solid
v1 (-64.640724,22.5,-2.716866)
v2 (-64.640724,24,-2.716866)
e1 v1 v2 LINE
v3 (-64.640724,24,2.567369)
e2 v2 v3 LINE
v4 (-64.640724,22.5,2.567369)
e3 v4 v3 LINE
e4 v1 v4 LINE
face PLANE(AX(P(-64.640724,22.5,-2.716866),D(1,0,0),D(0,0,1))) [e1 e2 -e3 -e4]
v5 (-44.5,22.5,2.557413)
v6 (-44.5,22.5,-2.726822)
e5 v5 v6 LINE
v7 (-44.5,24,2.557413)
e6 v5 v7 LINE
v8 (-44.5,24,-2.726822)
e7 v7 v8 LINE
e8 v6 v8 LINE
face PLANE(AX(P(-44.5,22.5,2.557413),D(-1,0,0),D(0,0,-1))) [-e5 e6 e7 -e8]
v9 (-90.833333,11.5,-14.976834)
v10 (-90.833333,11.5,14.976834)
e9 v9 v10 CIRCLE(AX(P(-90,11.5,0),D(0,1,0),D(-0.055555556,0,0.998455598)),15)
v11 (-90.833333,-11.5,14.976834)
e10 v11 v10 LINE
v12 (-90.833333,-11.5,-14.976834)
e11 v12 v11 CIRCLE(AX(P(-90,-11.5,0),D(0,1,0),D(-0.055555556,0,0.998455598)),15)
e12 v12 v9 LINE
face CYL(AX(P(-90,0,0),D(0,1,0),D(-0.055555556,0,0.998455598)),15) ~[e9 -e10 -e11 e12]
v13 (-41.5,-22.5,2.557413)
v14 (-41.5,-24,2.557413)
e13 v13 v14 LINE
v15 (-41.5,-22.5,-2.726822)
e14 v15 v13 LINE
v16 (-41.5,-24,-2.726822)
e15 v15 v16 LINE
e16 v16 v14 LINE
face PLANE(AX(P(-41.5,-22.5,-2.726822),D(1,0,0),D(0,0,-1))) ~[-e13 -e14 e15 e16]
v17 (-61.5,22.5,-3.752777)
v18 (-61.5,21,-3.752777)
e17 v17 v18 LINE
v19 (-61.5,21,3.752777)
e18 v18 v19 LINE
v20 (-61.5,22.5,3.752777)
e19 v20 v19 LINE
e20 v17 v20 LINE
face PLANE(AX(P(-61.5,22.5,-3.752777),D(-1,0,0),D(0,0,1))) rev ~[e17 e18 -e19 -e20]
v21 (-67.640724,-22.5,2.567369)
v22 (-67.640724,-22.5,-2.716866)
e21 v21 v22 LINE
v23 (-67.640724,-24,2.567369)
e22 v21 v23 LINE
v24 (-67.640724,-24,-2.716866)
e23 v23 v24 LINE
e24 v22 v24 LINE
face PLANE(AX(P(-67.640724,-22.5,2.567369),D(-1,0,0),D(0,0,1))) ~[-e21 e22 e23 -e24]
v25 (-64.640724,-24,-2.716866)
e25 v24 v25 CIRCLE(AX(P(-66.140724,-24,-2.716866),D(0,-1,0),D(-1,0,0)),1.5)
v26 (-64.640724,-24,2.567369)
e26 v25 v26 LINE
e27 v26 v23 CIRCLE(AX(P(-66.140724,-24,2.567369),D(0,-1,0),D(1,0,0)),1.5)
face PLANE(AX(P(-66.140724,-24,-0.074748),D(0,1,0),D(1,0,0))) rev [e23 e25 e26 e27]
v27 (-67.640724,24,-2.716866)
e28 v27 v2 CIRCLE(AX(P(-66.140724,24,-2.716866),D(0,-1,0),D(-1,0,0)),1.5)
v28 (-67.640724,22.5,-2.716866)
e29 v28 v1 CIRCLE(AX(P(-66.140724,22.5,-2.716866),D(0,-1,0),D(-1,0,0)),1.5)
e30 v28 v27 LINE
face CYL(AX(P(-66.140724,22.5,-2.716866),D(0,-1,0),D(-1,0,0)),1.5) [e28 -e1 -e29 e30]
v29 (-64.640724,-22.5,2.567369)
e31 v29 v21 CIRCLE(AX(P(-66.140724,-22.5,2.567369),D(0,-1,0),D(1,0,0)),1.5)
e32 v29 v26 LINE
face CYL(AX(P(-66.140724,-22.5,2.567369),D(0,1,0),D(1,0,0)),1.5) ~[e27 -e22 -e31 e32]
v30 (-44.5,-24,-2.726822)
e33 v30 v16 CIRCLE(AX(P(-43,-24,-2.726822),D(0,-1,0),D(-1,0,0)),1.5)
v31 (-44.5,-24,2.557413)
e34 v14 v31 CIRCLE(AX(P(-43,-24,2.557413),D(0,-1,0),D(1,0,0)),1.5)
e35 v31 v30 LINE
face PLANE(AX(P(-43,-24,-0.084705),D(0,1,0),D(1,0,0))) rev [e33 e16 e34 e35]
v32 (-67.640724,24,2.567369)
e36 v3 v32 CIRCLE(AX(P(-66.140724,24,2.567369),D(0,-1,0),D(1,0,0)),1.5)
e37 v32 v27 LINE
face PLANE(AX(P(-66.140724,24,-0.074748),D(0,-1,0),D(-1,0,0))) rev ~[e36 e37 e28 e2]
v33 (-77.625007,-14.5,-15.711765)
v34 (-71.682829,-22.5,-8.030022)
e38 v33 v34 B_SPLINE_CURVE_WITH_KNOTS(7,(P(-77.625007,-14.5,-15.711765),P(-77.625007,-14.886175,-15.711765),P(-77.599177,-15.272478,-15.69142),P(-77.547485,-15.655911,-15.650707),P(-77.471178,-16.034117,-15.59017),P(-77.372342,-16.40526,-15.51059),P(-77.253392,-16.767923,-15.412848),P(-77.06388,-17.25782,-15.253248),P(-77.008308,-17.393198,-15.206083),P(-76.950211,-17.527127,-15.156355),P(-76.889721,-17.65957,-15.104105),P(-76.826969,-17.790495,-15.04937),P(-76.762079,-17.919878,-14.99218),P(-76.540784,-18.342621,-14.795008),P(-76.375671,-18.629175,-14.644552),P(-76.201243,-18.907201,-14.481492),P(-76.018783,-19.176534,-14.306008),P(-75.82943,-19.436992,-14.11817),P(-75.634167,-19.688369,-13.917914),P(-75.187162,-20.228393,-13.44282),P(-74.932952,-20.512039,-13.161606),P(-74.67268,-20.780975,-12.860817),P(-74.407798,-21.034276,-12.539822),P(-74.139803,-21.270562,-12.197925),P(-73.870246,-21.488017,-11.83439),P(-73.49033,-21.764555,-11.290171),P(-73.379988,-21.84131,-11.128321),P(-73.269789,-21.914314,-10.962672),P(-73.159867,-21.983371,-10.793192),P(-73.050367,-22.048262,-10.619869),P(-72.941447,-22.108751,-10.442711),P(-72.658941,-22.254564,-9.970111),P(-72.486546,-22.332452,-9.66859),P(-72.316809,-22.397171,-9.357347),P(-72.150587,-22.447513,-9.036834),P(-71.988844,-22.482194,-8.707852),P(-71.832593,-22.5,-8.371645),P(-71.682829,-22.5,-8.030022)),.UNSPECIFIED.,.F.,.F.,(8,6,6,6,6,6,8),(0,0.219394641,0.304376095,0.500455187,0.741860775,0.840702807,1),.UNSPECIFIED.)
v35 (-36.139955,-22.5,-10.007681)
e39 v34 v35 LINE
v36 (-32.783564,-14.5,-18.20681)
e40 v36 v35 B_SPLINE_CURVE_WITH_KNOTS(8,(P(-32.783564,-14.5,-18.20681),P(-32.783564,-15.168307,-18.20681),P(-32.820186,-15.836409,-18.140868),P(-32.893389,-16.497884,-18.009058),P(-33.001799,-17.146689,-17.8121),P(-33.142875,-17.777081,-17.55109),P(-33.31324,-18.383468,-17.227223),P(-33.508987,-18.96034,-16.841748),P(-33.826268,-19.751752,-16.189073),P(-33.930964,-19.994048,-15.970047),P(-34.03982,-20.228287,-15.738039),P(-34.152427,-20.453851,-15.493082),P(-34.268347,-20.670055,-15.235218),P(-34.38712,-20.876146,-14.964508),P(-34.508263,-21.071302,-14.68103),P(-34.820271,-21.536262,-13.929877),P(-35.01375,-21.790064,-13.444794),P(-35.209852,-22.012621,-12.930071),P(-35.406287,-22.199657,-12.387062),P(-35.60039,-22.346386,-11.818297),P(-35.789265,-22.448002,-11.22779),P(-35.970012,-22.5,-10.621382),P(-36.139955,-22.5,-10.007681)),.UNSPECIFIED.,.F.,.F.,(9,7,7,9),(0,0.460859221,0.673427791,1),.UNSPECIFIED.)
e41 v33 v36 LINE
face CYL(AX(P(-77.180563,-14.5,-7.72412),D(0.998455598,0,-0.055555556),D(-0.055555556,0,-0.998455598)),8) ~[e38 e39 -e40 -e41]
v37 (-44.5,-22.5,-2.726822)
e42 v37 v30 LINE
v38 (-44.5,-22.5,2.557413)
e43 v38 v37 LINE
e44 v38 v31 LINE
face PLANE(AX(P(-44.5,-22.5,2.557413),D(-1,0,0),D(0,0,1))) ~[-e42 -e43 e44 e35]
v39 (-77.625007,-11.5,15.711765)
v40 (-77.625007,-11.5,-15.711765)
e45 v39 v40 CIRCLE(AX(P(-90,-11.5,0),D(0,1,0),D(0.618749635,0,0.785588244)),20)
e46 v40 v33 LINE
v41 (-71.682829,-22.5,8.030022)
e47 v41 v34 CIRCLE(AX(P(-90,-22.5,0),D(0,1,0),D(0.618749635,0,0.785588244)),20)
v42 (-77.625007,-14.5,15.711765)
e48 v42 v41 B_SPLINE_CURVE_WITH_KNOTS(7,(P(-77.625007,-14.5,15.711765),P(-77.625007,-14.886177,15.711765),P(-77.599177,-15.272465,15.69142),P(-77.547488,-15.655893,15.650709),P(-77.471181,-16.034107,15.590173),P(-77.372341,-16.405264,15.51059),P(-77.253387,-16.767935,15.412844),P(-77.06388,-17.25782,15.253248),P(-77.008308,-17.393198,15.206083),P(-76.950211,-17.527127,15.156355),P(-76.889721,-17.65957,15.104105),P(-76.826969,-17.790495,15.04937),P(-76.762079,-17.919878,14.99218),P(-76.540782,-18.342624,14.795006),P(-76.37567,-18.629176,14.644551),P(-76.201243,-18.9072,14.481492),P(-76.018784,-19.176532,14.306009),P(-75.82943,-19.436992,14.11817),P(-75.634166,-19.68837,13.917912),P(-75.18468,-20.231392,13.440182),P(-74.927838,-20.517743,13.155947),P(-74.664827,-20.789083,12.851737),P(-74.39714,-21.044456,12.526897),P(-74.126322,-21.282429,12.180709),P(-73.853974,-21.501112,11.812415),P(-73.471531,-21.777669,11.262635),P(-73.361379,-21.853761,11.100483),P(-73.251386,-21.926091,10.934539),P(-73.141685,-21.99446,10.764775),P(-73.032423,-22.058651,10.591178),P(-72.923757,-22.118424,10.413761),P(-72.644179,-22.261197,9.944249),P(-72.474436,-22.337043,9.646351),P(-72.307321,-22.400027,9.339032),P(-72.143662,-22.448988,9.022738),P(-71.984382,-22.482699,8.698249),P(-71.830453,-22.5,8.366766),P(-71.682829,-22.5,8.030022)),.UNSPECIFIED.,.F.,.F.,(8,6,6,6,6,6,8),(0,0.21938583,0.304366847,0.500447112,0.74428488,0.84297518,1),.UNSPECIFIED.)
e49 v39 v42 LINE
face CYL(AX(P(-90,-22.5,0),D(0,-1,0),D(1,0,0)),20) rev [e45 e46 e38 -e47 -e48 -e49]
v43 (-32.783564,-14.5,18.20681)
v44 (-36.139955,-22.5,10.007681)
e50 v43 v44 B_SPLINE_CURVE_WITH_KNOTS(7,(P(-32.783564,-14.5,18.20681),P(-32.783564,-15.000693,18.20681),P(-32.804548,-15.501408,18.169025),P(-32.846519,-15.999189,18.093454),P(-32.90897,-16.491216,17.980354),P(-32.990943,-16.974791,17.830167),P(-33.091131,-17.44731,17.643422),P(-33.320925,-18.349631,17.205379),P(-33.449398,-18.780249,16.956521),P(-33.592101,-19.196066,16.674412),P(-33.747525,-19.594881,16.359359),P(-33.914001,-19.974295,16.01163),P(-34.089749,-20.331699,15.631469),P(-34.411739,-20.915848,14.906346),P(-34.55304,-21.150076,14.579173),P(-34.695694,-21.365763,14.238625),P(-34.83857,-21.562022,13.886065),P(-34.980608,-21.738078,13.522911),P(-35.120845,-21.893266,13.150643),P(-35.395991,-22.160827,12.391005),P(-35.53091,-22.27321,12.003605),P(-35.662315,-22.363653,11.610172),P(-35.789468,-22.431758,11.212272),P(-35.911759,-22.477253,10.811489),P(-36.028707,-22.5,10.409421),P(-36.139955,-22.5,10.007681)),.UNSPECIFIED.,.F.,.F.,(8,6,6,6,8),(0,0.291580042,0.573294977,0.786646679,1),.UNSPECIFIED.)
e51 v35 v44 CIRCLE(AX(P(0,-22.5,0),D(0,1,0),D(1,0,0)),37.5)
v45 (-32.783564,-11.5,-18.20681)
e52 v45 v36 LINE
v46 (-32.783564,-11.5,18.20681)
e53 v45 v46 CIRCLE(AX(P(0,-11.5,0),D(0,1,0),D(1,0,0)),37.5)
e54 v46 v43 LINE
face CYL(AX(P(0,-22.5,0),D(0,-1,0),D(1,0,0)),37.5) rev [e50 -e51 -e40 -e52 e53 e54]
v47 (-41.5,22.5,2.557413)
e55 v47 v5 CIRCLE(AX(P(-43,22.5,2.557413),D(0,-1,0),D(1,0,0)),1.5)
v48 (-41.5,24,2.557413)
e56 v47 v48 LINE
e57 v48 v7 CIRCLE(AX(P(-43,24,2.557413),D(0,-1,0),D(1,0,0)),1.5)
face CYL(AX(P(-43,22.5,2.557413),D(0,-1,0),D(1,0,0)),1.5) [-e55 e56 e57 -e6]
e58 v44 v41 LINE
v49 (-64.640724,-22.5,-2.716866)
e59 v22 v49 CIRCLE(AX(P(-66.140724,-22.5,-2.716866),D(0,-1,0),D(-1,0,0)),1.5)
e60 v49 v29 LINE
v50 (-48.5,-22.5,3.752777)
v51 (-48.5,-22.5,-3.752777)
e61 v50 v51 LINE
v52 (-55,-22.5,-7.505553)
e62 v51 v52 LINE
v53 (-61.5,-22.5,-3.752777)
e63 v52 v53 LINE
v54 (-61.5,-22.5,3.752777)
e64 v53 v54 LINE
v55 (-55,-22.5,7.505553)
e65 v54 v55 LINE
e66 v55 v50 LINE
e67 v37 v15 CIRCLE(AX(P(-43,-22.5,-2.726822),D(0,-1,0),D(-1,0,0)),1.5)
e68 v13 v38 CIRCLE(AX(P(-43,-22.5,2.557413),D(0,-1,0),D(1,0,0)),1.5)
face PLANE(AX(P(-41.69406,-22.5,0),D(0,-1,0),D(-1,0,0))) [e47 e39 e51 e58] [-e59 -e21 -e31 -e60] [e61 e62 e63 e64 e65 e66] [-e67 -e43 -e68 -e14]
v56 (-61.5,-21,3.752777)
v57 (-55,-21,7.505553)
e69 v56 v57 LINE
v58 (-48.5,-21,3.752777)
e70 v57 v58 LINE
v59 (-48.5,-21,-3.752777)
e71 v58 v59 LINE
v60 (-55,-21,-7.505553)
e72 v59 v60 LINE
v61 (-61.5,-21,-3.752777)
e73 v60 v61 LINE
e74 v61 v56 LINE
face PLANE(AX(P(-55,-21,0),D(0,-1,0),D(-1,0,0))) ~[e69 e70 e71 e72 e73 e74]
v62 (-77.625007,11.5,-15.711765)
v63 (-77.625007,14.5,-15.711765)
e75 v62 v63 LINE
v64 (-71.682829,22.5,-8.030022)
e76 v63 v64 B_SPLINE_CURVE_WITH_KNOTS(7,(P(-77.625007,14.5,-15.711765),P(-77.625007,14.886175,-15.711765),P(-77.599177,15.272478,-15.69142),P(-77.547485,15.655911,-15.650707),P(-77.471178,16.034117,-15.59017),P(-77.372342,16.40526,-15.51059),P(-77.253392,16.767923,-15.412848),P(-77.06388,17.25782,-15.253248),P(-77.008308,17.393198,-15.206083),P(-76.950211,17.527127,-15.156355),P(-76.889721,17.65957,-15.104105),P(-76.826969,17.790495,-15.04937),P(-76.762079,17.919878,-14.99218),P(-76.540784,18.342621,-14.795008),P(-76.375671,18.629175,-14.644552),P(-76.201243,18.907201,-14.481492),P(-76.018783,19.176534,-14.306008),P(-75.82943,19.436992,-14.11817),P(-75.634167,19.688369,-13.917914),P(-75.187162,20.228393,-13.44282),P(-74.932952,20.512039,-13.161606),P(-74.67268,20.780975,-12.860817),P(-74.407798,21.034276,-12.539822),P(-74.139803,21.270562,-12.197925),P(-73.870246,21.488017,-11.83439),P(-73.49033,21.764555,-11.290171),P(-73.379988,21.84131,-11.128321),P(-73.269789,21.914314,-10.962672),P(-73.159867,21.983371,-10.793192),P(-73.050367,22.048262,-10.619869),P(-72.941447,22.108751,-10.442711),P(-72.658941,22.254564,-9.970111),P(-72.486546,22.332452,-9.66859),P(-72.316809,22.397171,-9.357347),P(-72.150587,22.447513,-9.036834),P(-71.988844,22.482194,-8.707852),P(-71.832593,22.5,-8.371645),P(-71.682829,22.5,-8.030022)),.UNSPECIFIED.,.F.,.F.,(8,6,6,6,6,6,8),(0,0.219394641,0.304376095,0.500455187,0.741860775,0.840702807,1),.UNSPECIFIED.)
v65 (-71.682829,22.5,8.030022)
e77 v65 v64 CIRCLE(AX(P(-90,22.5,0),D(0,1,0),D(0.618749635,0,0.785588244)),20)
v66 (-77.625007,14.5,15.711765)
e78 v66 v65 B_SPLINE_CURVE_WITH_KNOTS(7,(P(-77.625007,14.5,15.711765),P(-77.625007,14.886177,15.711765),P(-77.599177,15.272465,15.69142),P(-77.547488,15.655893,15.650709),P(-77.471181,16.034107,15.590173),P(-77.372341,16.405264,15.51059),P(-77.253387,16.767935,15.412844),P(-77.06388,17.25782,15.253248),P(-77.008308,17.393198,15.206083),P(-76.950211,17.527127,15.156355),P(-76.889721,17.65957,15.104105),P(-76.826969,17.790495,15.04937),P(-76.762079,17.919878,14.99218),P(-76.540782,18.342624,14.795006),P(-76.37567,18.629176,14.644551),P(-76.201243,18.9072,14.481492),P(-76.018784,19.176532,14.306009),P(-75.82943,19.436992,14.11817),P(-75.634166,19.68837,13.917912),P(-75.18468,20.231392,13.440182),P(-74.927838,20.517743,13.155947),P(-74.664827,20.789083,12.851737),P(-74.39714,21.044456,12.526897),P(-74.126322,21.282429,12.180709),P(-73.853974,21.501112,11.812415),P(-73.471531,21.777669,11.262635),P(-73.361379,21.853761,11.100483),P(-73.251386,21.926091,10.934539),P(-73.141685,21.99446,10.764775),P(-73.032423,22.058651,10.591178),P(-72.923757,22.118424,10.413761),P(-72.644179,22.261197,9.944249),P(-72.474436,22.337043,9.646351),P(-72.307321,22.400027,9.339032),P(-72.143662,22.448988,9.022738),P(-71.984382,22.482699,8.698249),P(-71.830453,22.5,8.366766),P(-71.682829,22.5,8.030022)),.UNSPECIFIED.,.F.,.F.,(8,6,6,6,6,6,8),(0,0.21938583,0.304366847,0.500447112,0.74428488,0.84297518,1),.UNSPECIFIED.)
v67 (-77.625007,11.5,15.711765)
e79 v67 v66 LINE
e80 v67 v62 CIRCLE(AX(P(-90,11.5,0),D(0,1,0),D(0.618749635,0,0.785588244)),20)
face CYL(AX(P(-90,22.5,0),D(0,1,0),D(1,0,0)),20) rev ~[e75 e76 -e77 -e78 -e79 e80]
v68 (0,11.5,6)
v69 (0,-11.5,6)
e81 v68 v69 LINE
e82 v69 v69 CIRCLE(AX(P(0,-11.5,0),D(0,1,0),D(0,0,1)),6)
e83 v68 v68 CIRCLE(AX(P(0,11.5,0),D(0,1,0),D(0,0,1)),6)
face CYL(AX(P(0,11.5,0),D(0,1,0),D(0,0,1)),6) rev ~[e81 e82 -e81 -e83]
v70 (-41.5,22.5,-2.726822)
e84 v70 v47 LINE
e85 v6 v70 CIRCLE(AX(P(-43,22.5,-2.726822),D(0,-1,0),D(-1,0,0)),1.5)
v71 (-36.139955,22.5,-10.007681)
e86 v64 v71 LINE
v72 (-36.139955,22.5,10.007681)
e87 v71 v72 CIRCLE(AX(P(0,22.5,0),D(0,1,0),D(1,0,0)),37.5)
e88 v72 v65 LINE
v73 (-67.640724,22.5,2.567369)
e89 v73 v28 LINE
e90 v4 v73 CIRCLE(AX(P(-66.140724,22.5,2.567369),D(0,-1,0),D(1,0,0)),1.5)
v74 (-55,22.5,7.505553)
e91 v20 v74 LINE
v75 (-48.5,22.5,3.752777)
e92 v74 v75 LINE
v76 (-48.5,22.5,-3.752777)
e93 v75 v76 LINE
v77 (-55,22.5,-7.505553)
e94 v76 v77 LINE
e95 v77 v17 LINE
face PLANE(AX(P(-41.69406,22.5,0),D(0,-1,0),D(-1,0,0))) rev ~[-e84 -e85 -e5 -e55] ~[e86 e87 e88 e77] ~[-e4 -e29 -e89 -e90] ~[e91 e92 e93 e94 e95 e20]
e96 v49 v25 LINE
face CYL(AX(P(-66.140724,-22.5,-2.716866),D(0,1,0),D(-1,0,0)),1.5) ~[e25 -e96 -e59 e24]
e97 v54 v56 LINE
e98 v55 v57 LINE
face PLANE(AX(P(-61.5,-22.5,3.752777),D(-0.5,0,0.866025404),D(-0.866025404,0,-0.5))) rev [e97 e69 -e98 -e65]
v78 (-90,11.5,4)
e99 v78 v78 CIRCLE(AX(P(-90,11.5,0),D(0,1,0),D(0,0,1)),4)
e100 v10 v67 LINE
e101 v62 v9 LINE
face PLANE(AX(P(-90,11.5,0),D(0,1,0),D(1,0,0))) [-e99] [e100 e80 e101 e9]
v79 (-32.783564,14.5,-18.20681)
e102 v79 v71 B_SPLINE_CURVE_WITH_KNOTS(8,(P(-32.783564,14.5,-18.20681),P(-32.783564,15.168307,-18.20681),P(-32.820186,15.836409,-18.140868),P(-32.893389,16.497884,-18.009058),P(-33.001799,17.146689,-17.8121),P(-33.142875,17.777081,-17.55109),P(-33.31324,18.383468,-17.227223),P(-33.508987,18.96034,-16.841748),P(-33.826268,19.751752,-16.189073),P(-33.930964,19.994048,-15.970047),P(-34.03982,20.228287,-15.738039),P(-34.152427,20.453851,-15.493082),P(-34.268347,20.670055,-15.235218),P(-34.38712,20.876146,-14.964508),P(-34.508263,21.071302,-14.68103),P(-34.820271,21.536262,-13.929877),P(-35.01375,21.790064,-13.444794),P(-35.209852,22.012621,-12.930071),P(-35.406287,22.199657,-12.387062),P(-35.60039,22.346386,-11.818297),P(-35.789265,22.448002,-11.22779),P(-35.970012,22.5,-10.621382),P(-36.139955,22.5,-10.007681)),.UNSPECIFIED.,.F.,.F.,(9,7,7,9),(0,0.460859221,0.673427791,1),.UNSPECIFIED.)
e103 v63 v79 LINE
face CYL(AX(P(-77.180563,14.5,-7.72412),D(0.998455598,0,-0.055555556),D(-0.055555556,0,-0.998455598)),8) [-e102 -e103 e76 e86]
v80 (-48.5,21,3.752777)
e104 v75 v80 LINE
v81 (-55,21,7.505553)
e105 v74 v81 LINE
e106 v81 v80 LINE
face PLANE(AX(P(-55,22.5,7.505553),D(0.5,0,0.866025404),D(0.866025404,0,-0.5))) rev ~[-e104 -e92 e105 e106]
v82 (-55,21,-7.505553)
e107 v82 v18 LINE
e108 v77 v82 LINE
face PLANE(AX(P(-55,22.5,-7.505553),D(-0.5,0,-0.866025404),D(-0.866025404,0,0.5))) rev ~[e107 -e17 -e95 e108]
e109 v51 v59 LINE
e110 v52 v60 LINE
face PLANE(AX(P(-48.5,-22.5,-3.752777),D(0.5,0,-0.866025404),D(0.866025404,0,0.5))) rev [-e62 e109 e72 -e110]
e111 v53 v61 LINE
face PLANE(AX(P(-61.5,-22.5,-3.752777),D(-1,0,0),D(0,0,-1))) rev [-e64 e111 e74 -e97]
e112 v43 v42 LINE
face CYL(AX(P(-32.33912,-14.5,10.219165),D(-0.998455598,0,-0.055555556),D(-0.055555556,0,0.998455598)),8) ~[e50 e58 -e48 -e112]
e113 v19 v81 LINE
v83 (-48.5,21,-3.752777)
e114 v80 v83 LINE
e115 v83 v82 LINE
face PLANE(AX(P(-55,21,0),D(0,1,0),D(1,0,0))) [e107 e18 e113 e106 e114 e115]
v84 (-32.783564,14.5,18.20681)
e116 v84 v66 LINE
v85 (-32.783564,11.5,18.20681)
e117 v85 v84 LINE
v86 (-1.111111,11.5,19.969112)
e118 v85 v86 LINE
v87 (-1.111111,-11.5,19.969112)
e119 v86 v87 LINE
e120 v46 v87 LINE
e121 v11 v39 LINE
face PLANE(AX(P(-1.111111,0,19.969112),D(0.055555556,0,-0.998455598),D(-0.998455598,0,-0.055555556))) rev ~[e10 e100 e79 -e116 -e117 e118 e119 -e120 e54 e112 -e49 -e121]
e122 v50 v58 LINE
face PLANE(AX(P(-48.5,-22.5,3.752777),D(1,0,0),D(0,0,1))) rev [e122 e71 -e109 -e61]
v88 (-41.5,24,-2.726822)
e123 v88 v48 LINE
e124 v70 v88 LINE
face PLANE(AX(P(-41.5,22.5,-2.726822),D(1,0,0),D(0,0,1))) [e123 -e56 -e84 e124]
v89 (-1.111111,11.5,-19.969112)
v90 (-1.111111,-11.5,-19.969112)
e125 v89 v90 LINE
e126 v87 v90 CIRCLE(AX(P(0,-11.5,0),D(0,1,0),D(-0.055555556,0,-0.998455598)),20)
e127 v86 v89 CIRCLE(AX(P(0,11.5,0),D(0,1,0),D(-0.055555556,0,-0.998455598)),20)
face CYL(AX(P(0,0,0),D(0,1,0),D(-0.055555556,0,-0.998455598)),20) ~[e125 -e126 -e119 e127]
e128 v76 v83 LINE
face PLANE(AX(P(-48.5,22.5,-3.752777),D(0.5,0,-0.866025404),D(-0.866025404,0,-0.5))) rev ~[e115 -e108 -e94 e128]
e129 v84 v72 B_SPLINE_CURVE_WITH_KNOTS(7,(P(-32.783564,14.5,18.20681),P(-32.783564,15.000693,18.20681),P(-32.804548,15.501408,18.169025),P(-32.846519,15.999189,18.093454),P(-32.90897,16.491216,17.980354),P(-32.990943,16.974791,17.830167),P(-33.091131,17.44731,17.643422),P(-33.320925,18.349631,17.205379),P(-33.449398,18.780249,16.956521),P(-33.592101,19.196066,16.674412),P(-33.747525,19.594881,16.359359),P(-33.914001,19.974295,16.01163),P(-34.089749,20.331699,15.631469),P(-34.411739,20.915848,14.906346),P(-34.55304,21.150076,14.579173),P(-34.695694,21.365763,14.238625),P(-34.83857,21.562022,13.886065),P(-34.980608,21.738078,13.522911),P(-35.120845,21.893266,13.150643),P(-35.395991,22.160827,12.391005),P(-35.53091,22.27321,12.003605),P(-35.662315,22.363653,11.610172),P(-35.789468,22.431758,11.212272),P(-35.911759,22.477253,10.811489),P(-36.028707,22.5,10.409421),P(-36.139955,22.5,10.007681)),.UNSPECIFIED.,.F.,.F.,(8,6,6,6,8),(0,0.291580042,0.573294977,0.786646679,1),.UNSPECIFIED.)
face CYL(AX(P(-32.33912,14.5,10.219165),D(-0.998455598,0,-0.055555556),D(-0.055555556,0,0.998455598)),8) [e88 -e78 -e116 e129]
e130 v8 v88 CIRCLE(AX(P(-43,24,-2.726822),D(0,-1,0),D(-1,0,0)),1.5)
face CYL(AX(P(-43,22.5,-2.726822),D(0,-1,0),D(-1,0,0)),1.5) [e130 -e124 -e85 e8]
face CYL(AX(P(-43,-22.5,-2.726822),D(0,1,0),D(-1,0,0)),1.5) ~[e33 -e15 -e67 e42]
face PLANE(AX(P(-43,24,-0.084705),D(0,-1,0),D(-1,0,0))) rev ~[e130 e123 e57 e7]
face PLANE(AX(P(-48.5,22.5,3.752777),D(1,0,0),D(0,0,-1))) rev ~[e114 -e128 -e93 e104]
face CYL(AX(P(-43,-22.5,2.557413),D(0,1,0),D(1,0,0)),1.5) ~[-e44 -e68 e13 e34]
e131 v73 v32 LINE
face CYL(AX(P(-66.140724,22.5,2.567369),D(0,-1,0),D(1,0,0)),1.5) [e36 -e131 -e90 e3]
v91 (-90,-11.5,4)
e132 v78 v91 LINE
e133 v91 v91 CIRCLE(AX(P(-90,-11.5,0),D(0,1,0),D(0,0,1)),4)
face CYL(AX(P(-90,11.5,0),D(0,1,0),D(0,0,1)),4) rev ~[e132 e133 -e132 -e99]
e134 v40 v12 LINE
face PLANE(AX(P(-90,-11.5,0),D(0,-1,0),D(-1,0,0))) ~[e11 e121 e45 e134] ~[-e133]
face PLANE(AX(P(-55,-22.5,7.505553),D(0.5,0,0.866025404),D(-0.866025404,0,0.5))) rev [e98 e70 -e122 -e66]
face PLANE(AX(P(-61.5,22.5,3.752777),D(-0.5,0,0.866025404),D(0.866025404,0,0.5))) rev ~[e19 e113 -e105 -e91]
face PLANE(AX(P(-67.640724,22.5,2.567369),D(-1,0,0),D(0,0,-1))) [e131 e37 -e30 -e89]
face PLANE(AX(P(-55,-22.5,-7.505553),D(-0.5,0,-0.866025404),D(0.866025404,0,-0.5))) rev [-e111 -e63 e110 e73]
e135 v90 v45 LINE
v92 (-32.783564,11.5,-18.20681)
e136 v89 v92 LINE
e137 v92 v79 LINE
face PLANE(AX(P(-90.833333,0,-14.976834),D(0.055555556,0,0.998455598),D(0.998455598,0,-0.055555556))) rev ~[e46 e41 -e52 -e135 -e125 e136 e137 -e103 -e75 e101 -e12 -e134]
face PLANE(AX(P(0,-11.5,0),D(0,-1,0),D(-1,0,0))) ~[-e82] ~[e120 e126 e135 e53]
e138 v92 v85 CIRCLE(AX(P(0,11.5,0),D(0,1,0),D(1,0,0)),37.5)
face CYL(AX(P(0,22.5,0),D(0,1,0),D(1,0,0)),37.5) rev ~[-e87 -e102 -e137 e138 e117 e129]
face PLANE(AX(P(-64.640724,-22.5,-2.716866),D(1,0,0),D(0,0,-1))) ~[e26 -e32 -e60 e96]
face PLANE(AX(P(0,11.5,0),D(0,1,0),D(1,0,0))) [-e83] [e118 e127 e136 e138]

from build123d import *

# Parameters (mm, degrees)
BOSS_EXTRUDE1_DEPTH = 22.5
SKETCH2_R           = 20
SKETCH2_R_2         = 37.5
CUT_EXTRUDE2_DEPTH  = 11
FILLET1_R           = 8
SKETCH3_R           = 6
SKETCH3_R_2         = 4
CUT_EXTRUDE3_DEPTH  = 44.5
CUT_EXTRUDE6_DEPTH  = 1.5
BOSS_EXTRUDE2_DEPTH = 1.5


with BuildPart() as part:
    # Sketch1 → Boss-Extrude1 (new, symmetric)
    with BuildSketch(Plane(origin=(0, 0, 0), x_dir=(1, 0, 0), z_dir=(0, 1, 0))):
        with BuildLine():
            Line((-90.833333333, 14.976833963), (-1.111111111, 19.969111951))
            ThreePointArc((-1.111111111, 19.969111951), (20, 0), (-1.111111111, -19.969111951))
            Line((-1.111111111, -19.969111951), (-90.833333333, -14.976833963))
            ThreePointArc((-90.833333333, -14.976833963), (-105, 0), (-90.833333333, 14.976833963))
        make_face()
    extrude(amount=BOSS_EXTRUDE1_DEPTH, both=True)

    # Sketch2 → Cut-Extrude2 (cut)
    with BuildSketch(Plane(origin=(0, 22.5, 0), x_dir=(1, 0, 0), z_dir=(0, 1, 0))):
        with Locations((-90, 0)):
            Circle(SKETCH2_R)
        Circle(SKETCH2_R_2)
    cut_extrude2 = extrude(amount=-CUT_EXTRUDE2_DEPTH, mode=Mode.SUBTRACT)

    # Mirror1: Cut-Extrude2 across plane
    add(cut_extrude2.mirror(Plane.ZX), mode=Mode.SUBTRACT)

    # Fillet1
    fillet1_edges = [part.edges().sort_by_distance(p)[0] for p in [
        (-55.204285794, 22.5, 16.959287199),
        (-55.204285794, 22.5, -16.959287199),
        (-55.204285794, -22.5, 16.959287199),
        (-55.204285794, -22.5, -16.959287199),
    ]]
    fillet(fillet1_edges, radius=FILLET1_R)

    # Sketch3 → Cut-Extrude3 (cut)
    with BuildSketch(Plane(origin=(0, 11.5, 0), x_dir=(1, 0, 0), z_dir=(0, 1, 0))):
        with Locations(Location((0, 0, 0), (0, 0, 270))):
            Circle(SKETCH3_R)
        with Locations(Location((-90, 0, 0), (0, 0, 270))):
            Circle(SKETCH3_R_2)
    extrude(amount=-CUT_EXTRUDE3_DEPTH, mode=Mode.SUBTRACT)

    # Sketch5 → Cut-Extrude6 (cut)
    with BuildSketch(Plane(origin=(0, 22.5, 0), x_dir=(1, 0, 0), z_dir=(0, 1, 0))):
        Polygon((-55, -7.505553499), (-48.5, -3.75277675), (-48.5, 3.75277675), (-55, 7.505553499), (-61.5, 3.75277675), (-61.5, -3.75277675), align=None)
    cut_extrude6 = extrude(amount=-CUT_EXTRUDE6_DEPTH, mode=Mode.SUBTRACT)

    # Sketch6 → Boss-Extrude2 (add)
    with BuildSketch(Plane(origin=(0, 22.5, 0), x_dir=(1, 0, 0), z_dir=(0, 1, 0))):
        with BuildLine():
            Line((-64.640723816, 2.716865752), (-64.640723816, -2.567368827))
            ThreePointArc((-64.640723816, -2.567368827), (-66.140723816, -4.067368827), (-67.640723816, -2.567368827))
            Line((-67.640723816, -2.567368827), (-67.640723816, 2.716865752))
            ThreePointArc((-67.640723816, 2.716865752), (-66.140723816, 4.216865752), (-64.640723816, 2.716865752))
        make_face()
        with BuildLine():
            Line((-41.5, 2.726821799), (-41.5, -2.55741278))
            ThreePointArc((-41.5, -2.55741278), (-43, -4.05741278), (-44.5, -2.55741278))
            Line((-44.5, -2.55741278), (-44.5, 2.726821799))
            ThreePointArc((-44.5, 2.726821799), (-43, 4.226821799), (-41.5, 2.726821799))
        make_face()
    boss_extrude2 = extrude(amount=BOSS_EXTRUDE2_DEPTH)

    # Mirror2: Cut-Extrude6, Boss-Extrude2 across plane
    add(cut_extrude6.mirror(Plane.ZX), mode=Mode.SUBTRACT)
    add(boss_extrude2.mirror(Plane.ZX))


solid = part.part
